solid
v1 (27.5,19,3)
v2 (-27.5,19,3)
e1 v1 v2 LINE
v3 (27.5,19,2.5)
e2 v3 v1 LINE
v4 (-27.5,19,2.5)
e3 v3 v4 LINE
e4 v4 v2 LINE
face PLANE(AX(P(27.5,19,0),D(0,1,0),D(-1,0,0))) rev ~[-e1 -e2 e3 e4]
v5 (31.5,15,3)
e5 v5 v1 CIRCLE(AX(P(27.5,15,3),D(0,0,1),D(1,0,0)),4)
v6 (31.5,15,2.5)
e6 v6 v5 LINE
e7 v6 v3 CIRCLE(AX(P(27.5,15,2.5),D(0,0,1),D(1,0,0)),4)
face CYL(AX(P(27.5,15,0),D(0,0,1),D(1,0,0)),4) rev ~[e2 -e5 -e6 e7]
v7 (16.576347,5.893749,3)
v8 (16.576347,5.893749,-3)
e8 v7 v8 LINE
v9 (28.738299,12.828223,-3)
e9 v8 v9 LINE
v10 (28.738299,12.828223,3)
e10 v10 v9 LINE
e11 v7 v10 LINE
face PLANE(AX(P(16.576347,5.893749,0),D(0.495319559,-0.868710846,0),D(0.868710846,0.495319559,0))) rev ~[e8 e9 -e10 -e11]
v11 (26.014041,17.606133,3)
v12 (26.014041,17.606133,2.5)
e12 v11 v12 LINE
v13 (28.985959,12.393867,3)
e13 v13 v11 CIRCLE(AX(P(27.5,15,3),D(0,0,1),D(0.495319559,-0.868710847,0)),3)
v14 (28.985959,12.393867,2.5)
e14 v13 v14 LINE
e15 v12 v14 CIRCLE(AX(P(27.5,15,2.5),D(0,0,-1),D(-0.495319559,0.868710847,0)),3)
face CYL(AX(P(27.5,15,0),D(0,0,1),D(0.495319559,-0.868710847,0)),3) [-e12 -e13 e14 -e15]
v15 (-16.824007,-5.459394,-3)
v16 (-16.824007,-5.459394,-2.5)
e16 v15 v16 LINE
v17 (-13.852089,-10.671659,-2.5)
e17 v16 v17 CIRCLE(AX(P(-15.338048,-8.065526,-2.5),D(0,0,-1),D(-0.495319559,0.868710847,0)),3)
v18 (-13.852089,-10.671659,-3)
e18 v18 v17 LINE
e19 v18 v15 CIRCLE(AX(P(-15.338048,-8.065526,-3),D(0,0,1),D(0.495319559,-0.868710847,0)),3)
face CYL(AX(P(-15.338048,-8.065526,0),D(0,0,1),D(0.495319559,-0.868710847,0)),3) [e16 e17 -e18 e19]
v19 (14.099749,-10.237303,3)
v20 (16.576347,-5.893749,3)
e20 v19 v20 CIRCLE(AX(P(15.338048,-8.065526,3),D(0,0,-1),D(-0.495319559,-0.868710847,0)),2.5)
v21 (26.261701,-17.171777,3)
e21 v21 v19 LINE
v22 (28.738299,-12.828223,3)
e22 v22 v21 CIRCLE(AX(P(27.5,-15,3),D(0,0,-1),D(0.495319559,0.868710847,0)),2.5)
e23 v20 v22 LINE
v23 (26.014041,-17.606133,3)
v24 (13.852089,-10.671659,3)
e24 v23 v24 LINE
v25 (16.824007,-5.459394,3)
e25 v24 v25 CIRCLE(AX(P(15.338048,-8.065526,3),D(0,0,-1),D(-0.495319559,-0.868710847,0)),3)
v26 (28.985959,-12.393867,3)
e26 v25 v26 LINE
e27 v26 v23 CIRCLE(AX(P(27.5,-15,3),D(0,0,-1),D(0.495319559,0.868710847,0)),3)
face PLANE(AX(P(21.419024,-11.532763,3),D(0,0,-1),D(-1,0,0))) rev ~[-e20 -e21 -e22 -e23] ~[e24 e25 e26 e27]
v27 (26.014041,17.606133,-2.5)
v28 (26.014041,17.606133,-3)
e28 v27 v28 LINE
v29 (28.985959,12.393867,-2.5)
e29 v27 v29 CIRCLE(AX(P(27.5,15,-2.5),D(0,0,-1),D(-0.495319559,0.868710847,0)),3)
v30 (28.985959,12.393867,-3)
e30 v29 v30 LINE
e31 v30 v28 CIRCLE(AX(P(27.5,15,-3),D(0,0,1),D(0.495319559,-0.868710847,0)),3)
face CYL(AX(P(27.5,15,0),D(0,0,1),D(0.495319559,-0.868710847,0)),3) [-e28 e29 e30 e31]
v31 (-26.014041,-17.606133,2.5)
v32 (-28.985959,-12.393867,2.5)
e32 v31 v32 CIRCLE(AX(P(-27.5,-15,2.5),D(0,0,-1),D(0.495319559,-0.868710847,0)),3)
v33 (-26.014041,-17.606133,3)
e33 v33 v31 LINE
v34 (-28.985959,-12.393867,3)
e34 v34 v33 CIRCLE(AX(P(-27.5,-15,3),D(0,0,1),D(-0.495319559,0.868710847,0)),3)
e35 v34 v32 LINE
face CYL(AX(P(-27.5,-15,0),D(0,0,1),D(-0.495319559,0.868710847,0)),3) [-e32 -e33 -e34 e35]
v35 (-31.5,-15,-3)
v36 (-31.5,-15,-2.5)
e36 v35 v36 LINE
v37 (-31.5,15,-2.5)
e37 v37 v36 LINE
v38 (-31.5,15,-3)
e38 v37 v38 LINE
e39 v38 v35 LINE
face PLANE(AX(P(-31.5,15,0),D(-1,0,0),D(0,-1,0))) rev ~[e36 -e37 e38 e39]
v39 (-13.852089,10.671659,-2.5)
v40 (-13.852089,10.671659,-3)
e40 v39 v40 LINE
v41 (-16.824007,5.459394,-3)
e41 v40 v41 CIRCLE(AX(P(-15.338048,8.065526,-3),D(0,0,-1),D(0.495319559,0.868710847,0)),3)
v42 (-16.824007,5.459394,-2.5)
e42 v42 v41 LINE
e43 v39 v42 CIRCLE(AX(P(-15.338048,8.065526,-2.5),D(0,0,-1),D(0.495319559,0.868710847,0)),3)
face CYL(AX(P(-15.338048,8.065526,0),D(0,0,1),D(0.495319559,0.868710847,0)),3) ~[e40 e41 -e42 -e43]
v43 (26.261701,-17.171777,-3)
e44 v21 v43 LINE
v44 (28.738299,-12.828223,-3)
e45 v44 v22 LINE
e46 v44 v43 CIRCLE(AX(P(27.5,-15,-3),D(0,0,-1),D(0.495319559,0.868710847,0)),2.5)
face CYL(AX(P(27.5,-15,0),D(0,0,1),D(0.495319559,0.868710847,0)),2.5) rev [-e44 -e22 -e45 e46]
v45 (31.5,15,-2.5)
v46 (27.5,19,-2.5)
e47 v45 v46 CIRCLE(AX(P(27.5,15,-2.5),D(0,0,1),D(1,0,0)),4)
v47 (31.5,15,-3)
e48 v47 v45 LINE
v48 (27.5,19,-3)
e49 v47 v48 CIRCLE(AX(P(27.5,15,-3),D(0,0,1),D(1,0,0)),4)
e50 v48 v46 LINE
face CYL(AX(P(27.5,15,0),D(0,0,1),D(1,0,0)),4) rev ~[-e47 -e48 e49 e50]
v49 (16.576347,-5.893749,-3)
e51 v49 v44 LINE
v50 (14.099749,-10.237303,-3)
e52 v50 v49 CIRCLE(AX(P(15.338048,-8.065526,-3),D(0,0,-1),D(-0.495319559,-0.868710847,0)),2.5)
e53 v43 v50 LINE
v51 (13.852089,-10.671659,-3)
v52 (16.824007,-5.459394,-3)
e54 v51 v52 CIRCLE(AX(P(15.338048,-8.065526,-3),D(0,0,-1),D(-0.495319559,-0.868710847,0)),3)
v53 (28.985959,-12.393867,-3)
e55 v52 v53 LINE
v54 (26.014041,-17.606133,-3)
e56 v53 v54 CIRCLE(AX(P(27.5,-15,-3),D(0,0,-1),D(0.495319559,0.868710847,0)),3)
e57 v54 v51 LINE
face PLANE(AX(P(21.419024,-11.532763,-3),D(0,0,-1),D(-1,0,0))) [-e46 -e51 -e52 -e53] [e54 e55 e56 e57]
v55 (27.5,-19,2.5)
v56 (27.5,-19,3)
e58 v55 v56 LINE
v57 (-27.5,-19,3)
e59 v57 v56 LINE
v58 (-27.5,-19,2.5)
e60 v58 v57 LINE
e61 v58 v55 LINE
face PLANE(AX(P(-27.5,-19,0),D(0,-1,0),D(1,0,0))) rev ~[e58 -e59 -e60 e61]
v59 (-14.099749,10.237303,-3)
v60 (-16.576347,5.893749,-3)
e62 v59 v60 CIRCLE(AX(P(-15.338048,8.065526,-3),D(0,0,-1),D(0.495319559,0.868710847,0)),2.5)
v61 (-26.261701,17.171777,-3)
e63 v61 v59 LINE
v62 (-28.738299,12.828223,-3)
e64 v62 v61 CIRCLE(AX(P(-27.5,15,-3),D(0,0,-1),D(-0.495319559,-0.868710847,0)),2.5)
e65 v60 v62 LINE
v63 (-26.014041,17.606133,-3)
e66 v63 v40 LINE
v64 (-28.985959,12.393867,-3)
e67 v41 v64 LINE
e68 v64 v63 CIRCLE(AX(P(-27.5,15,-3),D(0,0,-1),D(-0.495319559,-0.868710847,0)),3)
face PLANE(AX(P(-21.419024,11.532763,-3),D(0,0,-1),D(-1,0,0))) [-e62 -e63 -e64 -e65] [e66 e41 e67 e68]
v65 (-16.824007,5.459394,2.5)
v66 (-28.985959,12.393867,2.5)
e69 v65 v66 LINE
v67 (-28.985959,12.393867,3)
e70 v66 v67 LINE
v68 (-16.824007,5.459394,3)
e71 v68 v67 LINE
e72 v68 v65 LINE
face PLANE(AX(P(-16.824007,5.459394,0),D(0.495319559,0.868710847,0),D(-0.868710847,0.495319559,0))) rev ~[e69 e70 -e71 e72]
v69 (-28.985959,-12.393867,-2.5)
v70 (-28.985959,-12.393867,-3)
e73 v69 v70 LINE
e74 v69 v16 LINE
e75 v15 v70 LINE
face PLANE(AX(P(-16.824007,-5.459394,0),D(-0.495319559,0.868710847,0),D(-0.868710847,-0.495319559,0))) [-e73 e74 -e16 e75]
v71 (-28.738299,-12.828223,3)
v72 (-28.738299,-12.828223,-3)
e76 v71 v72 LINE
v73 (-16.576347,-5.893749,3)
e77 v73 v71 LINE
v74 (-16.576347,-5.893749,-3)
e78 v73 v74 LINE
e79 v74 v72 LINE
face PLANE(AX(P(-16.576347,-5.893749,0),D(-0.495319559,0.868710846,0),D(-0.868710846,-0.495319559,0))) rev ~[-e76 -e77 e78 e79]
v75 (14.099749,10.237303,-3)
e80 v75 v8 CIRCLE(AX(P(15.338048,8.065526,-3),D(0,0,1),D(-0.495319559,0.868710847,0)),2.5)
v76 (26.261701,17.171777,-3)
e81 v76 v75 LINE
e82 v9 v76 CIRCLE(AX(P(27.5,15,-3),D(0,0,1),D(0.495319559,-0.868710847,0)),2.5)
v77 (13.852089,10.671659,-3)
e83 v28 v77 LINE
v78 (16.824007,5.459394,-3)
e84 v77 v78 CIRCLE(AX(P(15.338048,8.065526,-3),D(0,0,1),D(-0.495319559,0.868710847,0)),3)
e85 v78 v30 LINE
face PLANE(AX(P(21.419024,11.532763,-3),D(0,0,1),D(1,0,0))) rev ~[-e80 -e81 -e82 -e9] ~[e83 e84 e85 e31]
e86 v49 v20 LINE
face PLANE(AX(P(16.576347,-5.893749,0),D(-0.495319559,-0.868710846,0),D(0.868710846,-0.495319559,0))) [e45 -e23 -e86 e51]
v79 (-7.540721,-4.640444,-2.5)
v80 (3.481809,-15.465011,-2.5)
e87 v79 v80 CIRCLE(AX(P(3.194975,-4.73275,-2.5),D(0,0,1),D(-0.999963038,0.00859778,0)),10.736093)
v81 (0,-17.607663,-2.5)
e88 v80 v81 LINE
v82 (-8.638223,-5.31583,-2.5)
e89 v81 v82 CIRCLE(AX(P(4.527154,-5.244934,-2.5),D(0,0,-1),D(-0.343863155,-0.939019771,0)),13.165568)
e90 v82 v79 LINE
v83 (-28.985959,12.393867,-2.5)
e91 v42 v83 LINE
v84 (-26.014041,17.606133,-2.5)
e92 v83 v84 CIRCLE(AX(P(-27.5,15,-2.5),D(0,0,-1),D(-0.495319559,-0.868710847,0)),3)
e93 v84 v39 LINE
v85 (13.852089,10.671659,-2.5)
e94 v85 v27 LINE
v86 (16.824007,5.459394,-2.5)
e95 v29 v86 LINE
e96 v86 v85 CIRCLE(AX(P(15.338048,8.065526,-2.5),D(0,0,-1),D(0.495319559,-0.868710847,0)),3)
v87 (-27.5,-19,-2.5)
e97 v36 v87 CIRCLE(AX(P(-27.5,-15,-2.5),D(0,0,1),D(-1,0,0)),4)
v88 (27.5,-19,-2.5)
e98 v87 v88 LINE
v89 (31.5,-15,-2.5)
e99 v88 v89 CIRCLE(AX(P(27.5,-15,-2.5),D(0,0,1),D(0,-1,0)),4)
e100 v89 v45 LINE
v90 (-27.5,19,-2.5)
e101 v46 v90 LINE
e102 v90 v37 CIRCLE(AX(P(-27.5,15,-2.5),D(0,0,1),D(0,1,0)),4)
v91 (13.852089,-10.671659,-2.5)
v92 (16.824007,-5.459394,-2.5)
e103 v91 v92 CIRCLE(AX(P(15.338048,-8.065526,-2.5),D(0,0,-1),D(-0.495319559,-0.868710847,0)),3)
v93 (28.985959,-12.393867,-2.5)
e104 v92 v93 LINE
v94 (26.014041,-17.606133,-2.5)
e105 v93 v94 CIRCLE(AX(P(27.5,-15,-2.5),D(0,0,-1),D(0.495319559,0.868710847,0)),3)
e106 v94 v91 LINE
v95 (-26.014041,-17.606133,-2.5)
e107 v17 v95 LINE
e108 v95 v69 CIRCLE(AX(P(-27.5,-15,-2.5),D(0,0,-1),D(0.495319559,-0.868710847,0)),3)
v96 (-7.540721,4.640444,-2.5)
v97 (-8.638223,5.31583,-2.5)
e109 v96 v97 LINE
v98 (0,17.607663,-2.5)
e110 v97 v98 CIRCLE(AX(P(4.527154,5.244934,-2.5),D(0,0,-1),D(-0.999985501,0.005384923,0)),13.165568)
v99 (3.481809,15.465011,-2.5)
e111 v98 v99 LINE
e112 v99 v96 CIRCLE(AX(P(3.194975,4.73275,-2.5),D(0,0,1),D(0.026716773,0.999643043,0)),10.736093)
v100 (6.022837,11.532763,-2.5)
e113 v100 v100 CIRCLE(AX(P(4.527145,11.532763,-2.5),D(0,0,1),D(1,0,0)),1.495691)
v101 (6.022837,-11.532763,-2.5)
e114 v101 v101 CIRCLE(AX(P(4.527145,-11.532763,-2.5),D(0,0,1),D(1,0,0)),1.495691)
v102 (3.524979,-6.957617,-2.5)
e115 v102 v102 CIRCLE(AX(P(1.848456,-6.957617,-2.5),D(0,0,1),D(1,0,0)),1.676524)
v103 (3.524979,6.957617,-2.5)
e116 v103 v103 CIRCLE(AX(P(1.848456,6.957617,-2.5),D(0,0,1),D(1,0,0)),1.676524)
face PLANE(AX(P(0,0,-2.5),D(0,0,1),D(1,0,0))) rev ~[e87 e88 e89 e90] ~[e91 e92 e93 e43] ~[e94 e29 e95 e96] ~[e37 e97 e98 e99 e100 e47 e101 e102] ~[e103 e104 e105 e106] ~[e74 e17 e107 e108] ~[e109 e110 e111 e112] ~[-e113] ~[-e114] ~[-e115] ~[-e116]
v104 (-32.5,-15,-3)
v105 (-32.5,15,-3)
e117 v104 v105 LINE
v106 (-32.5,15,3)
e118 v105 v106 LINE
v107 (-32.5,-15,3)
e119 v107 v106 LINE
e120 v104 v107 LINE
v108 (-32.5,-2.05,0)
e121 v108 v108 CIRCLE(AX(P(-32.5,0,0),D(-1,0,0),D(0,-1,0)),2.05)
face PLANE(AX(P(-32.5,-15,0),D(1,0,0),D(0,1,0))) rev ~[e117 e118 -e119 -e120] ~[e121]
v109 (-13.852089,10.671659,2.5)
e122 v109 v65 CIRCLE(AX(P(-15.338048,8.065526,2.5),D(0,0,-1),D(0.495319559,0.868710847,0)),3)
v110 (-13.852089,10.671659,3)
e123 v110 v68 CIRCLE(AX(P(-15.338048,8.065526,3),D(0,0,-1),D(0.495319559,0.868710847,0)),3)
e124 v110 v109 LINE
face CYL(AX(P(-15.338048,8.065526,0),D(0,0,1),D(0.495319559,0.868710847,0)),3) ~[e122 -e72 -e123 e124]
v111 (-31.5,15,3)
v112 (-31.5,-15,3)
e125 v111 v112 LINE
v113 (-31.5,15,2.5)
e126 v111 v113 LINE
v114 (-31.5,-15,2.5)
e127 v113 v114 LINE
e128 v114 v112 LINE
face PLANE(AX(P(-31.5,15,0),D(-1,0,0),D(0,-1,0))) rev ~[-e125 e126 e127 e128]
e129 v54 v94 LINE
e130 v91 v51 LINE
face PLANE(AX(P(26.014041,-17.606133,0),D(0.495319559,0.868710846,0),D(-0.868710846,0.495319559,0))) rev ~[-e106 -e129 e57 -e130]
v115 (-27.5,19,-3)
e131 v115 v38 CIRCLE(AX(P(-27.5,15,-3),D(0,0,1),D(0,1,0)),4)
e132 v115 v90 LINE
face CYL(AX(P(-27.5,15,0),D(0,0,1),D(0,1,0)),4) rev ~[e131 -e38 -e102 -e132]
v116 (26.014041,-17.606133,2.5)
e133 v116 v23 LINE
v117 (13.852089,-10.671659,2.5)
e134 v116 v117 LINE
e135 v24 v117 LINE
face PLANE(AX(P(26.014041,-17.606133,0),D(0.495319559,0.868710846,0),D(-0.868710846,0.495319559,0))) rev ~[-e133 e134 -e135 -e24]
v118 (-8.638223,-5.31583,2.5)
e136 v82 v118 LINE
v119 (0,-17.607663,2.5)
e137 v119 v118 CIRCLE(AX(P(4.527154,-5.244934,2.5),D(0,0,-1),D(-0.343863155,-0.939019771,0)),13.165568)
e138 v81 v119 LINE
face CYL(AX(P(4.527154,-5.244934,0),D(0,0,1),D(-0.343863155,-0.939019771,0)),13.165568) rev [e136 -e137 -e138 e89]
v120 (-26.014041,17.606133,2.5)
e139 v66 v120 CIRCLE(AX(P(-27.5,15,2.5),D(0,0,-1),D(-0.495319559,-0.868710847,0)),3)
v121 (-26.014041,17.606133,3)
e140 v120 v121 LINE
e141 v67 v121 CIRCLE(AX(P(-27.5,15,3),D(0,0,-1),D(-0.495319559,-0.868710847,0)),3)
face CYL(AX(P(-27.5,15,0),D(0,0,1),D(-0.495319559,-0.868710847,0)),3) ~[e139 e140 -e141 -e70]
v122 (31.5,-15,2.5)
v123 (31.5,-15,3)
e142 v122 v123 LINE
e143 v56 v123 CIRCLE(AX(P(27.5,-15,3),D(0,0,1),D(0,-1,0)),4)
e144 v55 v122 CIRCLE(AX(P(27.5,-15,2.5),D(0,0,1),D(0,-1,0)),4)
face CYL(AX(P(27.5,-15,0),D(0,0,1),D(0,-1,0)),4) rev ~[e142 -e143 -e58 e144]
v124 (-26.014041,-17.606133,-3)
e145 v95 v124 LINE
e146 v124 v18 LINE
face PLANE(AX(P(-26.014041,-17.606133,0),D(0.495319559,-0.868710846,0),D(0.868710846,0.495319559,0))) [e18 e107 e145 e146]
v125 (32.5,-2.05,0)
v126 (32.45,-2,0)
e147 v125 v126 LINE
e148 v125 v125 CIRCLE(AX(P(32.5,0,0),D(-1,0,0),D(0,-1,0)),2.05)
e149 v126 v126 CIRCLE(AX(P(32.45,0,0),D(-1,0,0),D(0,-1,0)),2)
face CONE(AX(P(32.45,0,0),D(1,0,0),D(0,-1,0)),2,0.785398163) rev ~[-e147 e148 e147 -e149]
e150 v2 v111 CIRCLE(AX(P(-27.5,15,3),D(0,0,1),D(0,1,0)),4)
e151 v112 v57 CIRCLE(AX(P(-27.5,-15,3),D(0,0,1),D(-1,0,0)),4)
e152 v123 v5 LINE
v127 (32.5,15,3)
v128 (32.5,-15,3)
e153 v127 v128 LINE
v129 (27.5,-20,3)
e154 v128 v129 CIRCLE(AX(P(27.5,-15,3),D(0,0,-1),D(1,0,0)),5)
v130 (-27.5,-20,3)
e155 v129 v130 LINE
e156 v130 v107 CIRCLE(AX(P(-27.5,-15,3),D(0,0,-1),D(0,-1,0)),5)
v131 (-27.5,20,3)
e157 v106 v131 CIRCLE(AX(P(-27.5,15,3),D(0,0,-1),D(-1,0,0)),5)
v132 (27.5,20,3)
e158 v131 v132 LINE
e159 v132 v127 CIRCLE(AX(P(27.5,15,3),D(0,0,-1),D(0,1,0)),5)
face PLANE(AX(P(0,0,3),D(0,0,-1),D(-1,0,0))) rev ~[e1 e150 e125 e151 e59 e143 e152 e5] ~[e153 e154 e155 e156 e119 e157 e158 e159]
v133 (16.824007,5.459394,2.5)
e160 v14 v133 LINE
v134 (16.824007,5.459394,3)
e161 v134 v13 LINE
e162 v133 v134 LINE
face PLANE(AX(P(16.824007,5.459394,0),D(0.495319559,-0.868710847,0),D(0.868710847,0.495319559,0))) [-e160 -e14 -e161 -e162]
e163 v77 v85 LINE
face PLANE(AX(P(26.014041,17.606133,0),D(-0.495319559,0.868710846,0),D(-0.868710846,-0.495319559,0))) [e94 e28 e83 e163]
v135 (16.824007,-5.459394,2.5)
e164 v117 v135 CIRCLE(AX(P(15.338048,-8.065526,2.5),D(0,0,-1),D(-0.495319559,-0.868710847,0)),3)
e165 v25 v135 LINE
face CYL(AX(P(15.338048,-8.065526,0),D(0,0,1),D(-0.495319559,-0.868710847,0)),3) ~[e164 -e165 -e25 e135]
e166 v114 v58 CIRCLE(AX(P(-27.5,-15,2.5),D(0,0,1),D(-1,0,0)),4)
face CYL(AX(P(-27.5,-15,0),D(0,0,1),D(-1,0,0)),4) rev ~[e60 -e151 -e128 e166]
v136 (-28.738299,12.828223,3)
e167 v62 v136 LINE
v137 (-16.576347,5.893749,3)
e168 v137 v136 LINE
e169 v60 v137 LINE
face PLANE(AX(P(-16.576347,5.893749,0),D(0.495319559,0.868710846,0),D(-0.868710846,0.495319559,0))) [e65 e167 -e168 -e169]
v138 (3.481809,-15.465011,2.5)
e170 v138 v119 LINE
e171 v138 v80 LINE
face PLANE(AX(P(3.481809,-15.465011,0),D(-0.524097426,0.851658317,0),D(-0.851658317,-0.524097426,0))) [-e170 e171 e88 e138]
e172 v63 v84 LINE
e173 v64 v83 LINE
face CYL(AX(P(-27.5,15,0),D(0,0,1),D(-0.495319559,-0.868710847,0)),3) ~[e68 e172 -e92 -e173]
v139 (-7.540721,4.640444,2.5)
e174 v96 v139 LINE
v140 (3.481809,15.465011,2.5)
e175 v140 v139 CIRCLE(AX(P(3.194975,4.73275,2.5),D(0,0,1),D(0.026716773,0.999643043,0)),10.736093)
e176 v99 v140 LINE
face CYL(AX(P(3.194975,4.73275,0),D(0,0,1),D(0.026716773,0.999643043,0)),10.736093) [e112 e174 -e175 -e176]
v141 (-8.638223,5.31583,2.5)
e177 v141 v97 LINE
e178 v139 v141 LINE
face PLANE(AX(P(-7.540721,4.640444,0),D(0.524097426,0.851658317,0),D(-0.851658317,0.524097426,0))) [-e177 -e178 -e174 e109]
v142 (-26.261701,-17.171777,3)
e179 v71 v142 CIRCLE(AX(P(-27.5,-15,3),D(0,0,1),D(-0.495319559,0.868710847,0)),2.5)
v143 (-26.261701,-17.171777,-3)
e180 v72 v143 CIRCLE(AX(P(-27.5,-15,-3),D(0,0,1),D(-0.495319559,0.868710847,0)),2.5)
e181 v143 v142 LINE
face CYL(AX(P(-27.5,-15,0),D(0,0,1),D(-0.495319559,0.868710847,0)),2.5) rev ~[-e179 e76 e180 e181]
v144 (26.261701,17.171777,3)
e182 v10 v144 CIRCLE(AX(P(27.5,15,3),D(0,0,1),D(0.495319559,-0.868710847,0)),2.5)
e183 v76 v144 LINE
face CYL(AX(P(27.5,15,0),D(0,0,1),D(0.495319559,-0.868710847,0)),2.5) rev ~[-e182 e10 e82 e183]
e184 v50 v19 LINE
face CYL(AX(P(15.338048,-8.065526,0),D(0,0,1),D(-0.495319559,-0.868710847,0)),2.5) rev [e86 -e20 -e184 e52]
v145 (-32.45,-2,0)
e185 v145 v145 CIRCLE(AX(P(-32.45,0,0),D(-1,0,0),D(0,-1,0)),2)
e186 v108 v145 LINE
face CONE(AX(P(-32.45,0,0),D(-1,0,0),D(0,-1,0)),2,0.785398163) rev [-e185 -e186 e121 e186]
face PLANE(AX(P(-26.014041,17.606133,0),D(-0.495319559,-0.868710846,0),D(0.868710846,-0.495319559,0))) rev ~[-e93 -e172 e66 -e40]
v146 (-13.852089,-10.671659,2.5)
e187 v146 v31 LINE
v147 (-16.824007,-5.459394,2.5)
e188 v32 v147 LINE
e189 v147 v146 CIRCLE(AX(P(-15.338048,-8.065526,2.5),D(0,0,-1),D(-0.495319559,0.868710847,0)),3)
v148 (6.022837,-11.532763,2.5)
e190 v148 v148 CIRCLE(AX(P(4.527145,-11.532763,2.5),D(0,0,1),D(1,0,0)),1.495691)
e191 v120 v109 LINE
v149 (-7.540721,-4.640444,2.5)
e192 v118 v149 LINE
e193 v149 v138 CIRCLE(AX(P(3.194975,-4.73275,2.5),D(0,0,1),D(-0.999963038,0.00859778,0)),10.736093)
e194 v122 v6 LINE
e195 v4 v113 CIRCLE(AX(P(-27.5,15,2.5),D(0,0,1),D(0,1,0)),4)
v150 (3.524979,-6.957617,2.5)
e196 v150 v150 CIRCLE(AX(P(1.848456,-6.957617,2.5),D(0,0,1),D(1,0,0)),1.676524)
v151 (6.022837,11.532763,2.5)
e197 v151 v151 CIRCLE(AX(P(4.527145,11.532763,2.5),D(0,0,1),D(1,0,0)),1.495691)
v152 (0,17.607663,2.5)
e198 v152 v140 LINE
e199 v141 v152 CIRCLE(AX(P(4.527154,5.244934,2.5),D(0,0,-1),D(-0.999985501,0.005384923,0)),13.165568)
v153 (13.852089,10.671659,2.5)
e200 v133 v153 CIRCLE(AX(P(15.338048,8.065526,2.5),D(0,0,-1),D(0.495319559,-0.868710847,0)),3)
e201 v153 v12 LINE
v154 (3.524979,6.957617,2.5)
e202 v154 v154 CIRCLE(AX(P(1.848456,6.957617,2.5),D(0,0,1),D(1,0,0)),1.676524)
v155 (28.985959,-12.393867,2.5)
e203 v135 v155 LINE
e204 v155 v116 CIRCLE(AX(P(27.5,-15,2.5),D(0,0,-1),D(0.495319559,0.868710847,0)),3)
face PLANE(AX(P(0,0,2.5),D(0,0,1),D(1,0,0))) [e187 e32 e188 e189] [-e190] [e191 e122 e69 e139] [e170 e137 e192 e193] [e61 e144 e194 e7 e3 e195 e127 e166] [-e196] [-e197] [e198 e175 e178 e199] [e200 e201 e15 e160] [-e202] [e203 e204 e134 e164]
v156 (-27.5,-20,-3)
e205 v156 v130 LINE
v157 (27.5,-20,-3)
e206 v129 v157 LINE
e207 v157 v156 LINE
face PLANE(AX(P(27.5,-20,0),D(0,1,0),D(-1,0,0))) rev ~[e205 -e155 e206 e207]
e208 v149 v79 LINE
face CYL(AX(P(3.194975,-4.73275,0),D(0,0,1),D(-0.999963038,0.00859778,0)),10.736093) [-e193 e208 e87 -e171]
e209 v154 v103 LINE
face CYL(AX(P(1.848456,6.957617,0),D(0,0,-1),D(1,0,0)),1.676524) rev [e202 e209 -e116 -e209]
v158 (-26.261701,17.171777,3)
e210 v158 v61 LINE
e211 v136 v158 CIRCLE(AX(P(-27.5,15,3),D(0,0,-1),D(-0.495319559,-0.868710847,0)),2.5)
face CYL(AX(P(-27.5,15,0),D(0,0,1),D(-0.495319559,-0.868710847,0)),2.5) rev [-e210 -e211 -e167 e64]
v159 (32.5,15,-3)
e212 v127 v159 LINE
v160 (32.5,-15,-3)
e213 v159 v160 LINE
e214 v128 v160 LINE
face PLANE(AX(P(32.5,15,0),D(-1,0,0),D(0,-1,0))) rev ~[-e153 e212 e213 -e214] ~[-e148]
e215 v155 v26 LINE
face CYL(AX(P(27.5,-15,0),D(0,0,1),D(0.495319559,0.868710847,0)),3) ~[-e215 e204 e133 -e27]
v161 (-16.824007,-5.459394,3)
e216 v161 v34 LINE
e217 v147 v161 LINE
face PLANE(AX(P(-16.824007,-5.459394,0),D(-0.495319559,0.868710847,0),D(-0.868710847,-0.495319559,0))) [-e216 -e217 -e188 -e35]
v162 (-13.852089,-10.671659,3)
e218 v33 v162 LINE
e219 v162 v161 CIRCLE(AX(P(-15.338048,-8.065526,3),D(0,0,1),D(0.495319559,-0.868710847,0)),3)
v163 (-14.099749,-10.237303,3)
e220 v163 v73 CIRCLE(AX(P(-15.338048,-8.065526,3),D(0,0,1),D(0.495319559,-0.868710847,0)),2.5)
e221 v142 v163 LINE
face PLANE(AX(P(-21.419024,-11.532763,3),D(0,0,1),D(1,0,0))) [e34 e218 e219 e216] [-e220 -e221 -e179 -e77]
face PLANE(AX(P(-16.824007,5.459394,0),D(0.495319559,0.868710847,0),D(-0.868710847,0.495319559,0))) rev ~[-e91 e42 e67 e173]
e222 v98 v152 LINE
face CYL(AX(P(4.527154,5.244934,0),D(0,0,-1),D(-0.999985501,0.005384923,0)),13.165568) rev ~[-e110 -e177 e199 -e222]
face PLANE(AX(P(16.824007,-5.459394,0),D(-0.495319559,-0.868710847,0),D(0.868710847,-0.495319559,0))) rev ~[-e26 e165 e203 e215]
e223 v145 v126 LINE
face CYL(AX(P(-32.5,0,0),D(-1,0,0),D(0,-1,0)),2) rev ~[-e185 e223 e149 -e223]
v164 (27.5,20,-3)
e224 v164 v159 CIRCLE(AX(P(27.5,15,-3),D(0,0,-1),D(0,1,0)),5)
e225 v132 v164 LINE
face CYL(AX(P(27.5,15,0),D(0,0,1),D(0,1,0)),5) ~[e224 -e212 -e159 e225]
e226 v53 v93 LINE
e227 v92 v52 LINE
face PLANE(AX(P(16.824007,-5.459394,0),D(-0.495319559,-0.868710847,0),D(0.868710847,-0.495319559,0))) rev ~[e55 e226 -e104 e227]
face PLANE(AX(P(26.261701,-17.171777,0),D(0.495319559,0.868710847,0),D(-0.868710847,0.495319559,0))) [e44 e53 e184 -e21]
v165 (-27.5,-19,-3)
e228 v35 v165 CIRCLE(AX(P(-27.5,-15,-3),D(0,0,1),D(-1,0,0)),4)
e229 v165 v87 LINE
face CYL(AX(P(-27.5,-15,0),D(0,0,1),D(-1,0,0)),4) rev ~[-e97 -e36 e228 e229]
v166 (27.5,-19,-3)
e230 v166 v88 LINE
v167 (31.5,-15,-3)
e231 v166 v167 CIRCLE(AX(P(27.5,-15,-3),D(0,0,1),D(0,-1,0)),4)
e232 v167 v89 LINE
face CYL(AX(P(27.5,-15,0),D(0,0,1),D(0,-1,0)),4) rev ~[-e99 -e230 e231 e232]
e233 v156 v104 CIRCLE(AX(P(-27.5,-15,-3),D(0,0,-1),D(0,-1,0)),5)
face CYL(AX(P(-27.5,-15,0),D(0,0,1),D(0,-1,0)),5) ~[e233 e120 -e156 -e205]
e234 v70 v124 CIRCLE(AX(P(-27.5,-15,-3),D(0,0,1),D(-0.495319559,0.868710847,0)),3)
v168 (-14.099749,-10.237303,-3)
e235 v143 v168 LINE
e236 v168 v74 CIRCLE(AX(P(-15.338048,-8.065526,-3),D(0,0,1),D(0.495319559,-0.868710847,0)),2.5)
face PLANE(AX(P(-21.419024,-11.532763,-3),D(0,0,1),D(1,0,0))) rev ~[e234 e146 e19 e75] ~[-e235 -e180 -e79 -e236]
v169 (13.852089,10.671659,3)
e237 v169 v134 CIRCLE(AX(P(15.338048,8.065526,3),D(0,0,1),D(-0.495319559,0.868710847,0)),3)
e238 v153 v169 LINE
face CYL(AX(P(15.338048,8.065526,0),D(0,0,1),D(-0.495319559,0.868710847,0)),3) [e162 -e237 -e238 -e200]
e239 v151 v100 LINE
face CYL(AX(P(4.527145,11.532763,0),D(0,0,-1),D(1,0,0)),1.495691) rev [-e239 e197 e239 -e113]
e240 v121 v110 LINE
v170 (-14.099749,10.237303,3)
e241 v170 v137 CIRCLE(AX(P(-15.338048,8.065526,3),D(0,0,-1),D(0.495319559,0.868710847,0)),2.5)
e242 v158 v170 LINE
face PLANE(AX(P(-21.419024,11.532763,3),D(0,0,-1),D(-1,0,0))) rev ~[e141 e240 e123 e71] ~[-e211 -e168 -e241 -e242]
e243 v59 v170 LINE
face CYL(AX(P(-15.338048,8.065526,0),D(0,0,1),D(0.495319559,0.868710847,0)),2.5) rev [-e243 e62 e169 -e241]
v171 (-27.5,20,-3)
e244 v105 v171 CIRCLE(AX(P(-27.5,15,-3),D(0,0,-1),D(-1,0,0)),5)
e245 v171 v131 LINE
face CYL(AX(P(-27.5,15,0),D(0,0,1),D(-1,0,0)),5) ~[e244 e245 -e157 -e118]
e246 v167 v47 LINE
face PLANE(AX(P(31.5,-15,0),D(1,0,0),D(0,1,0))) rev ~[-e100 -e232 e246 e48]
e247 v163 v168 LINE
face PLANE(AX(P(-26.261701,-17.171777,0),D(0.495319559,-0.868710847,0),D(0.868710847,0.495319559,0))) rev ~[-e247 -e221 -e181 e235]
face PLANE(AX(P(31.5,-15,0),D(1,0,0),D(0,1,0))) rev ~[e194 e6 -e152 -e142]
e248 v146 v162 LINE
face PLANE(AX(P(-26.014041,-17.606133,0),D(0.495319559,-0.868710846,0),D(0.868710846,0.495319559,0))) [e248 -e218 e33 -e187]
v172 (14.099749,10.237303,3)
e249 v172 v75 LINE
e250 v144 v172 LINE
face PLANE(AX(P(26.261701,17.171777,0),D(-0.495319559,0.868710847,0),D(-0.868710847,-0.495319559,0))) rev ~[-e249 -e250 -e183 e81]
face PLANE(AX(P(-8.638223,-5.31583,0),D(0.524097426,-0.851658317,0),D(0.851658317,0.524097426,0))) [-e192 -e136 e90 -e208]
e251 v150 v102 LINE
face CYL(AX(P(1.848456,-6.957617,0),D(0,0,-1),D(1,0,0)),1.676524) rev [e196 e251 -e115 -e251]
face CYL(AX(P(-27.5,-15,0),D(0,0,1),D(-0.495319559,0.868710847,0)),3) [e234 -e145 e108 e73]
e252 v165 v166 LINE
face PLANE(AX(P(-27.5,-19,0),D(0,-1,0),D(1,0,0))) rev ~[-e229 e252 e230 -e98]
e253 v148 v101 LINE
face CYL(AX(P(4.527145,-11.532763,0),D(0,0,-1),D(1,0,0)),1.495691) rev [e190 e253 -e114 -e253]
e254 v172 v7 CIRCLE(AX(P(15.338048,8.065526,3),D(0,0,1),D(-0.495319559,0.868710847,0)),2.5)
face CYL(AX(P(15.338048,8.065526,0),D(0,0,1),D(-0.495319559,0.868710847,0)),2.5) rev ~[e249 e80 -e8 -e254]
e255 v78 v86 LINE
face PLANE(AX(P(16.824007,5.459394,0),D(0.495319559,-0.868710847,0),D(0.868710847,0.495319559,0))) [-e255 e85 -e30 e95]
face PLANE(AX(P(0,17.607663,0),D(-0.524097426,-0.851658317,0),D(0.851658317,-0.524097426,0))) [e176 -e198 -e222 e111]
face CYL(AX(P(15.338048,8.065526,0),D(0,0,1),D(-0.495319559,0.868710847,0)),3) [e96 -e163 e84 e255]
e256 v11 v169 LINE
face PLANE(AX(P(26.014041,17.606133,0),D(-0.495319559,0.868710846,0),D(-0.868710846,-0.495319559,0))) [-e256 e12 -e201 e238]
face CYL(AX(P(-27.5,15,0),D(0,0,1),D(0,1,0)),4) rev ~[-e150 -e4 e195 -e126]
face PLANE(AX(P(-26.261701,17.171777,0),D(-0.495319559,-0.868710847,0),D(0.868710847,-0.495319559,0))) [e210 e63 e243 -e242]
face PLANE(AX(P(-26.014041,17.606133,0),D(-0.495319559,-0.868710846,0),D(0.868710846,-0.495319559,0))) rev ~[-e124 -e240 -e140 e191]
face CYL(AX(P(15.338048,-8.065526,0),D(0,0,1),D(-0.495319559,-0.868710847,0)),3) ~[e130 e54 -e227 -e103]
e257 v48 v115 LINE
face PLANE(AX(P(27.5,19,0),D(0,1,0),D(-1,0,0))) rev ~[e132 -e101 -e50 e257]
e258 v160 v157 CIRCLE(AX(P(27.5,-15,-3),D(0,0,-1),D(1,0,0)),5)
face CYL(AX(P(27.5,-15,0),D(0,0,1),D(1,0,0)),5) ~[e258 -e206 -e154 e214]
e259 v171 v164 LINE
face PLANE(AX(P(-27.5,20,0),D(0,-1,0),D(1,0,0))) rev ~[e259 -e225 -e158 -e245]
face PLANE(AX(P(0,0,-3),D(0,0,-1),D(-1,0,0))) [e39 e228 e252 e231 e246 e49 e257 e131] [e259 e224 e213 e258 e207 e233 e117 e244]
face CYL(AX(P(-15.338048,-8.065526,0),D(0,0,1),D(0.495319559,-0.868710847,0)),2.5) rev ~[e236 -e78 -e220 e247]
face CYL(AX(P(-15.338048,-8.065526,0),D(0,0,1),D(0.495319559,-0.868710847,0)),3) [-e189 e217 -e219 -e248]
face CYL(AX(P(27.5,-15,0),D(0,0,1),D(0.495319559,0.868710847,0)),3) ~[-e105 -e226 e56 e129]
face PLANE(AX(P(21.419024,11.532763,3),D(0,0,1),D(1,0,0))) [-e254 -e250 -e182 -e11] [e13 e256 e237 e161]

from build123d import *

# Parameters (mm, degrees)
BOSS_EXTRUDE2_DEPTH   = 3
BOSS_EXTRUDE2_2_DEPTH = 3
BOSS_EXTRUDE2_3_DEPTH = 3
BOSS_EXTRUDE2_4_DEPTH = 3
BOSS_EXTRUDE2_5_DEPTH = 3
SKETCH1_3_R           = 1.495691171
SKETCH1_3_R_2         = 1.676523608
BOSS_EXTRUDE3_DEPTH   = 2.5
SKETCH4_R             = 2
CUT_EXTRUDE5_DEPTH    = 69.0734897
CHAMFER1_SIZE         = 0.05


with BuildPart() as part:
    # Sketch1 → Boss-Extrude2 (new, symmetric)
    with BuildSketch(Plane.XY):
        with BuildLine():
            Line((27.5, 20), (-27.5, 20))
            ThreePointArc((-27.5, 20), (-31.035533906, 18.535533906), (-32.5, 15))
            Line((-32.5, 15), (-32.5, -15))
            ThreePointArc((-32.5, -15), (-31.035533906, -18.535533906), (-27.5, -20))
            Line((-27.5, -20), (27.5, -20))
            ThreePointArc((27.5, -20), (31.035533906, -18.535533906), (32.5, -15))
            Line((32.5, -15), (32.5, 15))
            ThreePointArc((32.5, 15), (31.035533906, 18.535533906), (27.5, 20))
        make_face()
        with BuildLine():
            Line((-31.5, -15), (-31.5, 15))
            ThreePointArc((-31.5, 15), (-30.328427125, 17.828427125), (-27.5, 19))
            Line((-27.5, 19), (27.5, 19))
            ThreePointArc((27.5, 19), (30.328427125, 17.828427125), (31.5, 15))
            Line((31.5, 15), (31.5, -15))
            ThreePointArc((31.5, -15), (30.328427125, -17.828427125), (27.5, -19))
            Line((27.5, -19), (-27.5, -19))
            ThreePointArc((-27.5, -19), (-30.328427125, -17.828427125), (-31.5, -15))
        make_face(mode=Mode.SUBTRACT)
    extrude(amount=BOSS_EXTRUDE2_DEPTH, both=True)



with BuildPart() as body_2:
    # Sketch1 → Boss-Extrude2 2 (new, symmetric)
    with BuildSketch(Plane.XY):
        with BuildLine():
            Line((-13.852089473, 10.671658719), (-26.014041324, 17.60613254))
            ThreePointArc((-26.014041324, 17.60613254), (-30.10613254, 16.485958676), (-28.985958676, 12.39386746))
            Line((-28.985958676, 12.39386746), (-16.824006824, 5.45939364))
            ThreePointArc((-16.824006824, 5.45939364), (-12.731915609, 6.579567504), (-13.852089473, 10.671658719))
        make_face()
        with BuildLine():
            ThreePointArc((-28.738298896, 12.828222884), (-29.671777116, 16.238298896), (-26.261701104, 17.171777116))
            Line((-26.261701104, 17.171777116), (-14.099749252, 10.237303296))
            ThreePointArc((-14.099749252, 10.237303296), (-13.166271032, 6.827227283), (-16.576347045, 5.893749063))
            Line((-16.576347045, 5.893749063), (-28.738298896, 12.828222884))
        make_face(mode=Mode.SUBTRACT)
    extrude(amount=BOSS_EXTRUDE2_2_DEPTH, both=True)


with BuildPart() as body_3:
    # Sketch1 → Boss-Extrude2 3 (new, symmetric)
    with BuildSketch(Plane.XY):
        with BuildLine():
            ThreePointArc((28.985958676, 12.39386746), (30.10613254, 16.485958676), (26.014041324, 17.60613254))
            Line((26.014041324, 17.60613254), (13.852089473, 10.671658719))
            ThreePointArc((13.852089473, 10.671658719), (12.731915609, 6.579567504), (16.824006824, 5.45939364))
            Line((16.824006824, 5.45939364), (28.985958676, 12.39386746))
        make_face()
        with BuildLine():
            Line((14.099749252, 10.237303296), (26.261701104, 17.171777116))
            ThreePointArc((26.261701104, 17.171777116), (29.671777116, 16.238298896), (28.738298896, 12.828222884))
            Line((28.738298896, 12.828222884), (16.576347045, 5.893749063))
            ThreePointArc((16.576347045, 5.893749063), (13.166271032, 6.827227283), (14.099749252, 10.237303296))
        make_face(mode=Mode.SUBTRACT)
    extrude(amount=BOSS_EXTRUDE2_3_DEPTH, both=True)


with BuildPart() as body_4:
    # Sketch1 → Boss-Extrude2 4 (new, symmetric)
    with BuildSketch(Plane.XY):
        with BuildLine():
            Line((13.852089473, -10.671658719), (26.014041324, -17.60613254))
            ThreePointArc((26.014041324, -17.60613254), (30.10613254, -16.485958676), (28.985958676, -12.39386746))
            Line((28.985958676, -12.39386746), (16.824006824, -5.45939364))
            ThreePointArc((16.824006824, -5.45939364), (12.731915609, -6.579567504), (13.852089473, -10.671658719))
        make_face()
        with BuildLine():
            ThreePointArc((28.738298896, -12.828222884), (29.671777116, -16.238298896), (26.261701104, -17.171777116))
            Line((26.261701104, -17.171777116), (14.099749252, -10.237303296))
            ThreePointArc((14.099749252, -10.237303296), (13.166271032, -6.827227283), (16.576347045, -5.893749063))
            Line((16.576347045, -5.893749063), (28.738298896, -12.828222884))
        make_face(mode=Mode.SUBTRACT)
    extrude(amount=BOSS_EXTRUDE2_4_DEPTH, both=True)


with BuildPart() as body_5:
    # Sketch1 → Boss-Extrude2 5 (new, symmetric)
    with BuildSketch(Plane.XY):
        with BuildLine():
            ThreePointArc((-28.985958676, -12.39386746), (-30.10613254, -16.485958676), (-26.014041324, -17.60613254))
            Line((-26.014041324, -17.60613254), (-13.852089473, -10.671658719))
            ThreePointArc((-13.852089473, -10.671658719), (-12.731915609, -6.579567504), (-16.824006824, -5.45939364))
            Line((-16.824006824, -5.45939364), (-28.985958676, -12.39386746))
        make_face()
        with BuildLine():
            Line((-14.099749252, -10.237303296), (-26.261701104, -17.171777116))
            ThreePointArc((-26.261701104, -17.171777116), (-29.671777116, -16.238298896), (-28.738298896, -12.828222884))
            Line((-28.738298896, -12.828222884), (-16.576347045, -5.893749063))
            ThreePointArc((-16.576347045, -5.893749063), (-13.166271032, -6.827227283), (-14.099749252, -10.237303296))
        make_face(mode=Mode.SUBTRACT)
    extrude(amount=BOSS_EXTRUDE2_5_DEPTH, both=True)


with BuildPart() as part_1:
    add(part.part)

    add(body_2.part)  # Boss-Extrude3 merges body 2

    add(body_3.part)  # Boss-Extrude3 merges body 3

    add(body_4.part)  # Boss-Extrude3 merges body 4

    add(body_5.part)  # Boss-Extrude3 merges body 5
    # Sketch1<3> → Boss-Extrude3 (add, symmetric)
    with BuildSketch(Plane.XY):
        with BuildLine():
            ThreePointArc((-27.5, 19), (-30.328427125, 17.828427125), (-31.5, 15))
            Line((-31.5, 15), (-31.5, -15))
            ThreePointArc((-31.5, -15), (-30.328427125, -17.828427125), (-27.5, -19))
            Line((-27.5, -19), (27.5, -19))
            ThreePointArc((27.5, -19), (30.328427125, -17.828427125), (31.5, -15))
            Line((31.5, -15), (31.5, 15))
            ThreePointArc((31.5, 15), (30.328427125, 17.828427125), (27.5, 19))
            Line((27.5, 19), (-27.5, 19))
        make_face()
        with BuildLine():
            Line((-13.852089473, -10.671658719), (-26.014041324, -17.60613254))
            ThreePointArc((-26.014041324, -17.60613254), (-30.10613254, -16.485958676), (-28.985958676, -12.39386746))
            Line((-28.985958676, -12.39386746), (-16.824006824, -5.45939364))
            ThreePointArc((-16.824006824, -5.45939364), (-12.731915609, -6.579567504), (-13.852089473, -10.671658719))
        make_face(mode=Mode.SUBTRACT)
        with BuildLine():
            ThreePointArc((0, -17.607662989), (-6.244508299, -12.814840409), (-8.638223432, -5.315829804))
            Line((-8.638223432, -5.315829804), (-7.540721224, -4.64044383))
            ThreePointArc((-7.540721224, -4.64044383), (-4.327491025, -12.392789568), (3.48180896, -15.465011321))
            Line((3.48180896, -15.465011321), (0, -17.607662989))
        make_face(mode=Mode.SUBTRACT)
        with Locations((4.527145443, -11.53276309)):
            Circle(SKETCH1_3_R, mode=Mode.SUBTRACT)
        with BuildLine():
            ThreePointArc((28.985958676, -12.39386746), (30.10613254, -16.485958676), (26.014041324, -17.60613254))
            Line((26.014041324, -17.60613254), (13.852089473, -10.671658719))
            ThreePointArc((13.852089473, -10.671658719), (12.731915609, -6.579567504), (16.824006824, -5.45939364))
            Line((16.824006824, -5.45939364), (28.985958676, -12.39386746))
        make_face(mode=Mode.SUBTRACT)
        with Locations((1.848455798, -6.957616723)):
            Circle(SKETCH1_3_R_2, mode=Mode.SUBTRACT)
        with BuildLine():
            ThreePointArc((-28.985958676, 12.39386746), (-30.10613254, 16.485958676), (-26.014041324, 17.60613254))
            Line((-26.014041324, 17.60613254), (-13.852089473, 10.671658719))
            ThreePointArc((-13.852089473, 10.671658719), (-12.731915609, 6.579567504), (-16.824006824, 5.45939364))
            Line((-16.824006824, 5.45939364), (-28.985958676, 12.39386746))
        make_face(mode=Mode.SUBTRACT)
        with BuildLine():
            Line((-7.540721224, 4.64044383), (-8.638223432, 5.315829804))
            ThreePointArc((-8.638223432, 5.315829804), (-6.244508299, 12.814840409), (0, 17.607662989))
            Line((0, 17.607662989), (3.48180896, 15.465011321))
            ThreePointArc((3.48180896, 15.465011321), (-4.327491025, 12.392789568), (-7.540721224, 4.64044383))
        make_face(mode=Mode.SUBTRACT)
        with Locations((1.848455798, 6.957616723)):
            Circle(SKETCH1_3_R_2, mode=Mode.SUBTRACT)
        with Locations((4.527145443, 11.53276309)):
            Circle(SKETCH1_3_R, mode=Mode.SUBTRACT)
        with BuildLine():
            Line((13.852089473, 10.671658719), (26.014041324, 17.60613254))
            ThreePointArc((26.014041324, 17.60613254), (30.10613254, 16.485958676), (28.985958676, 12.39386746))
            Line((28.985958676, 12.39386746), (16.824006824, 5.45939364))
            ThreePointArc((16.824006824, 5.45939364), (12.731915609, 6.579567504), (13.852089473, 10.671658719))
        make_face(mode=Mode.SUBTRACT)
    extrude(amount=BOSS_EXTRUDE3_DEPTH, both=True)

    # Sketch4 → Cut-Extrude5 (cut, through all)
    with BuildSketch(Plane.ZY.offset(32.5)):
        Circle(SKETCH4_R)
    extrude(amount=-CUT_EXTRUDE5_DEPTH, mode=Mode.SUBTRACT)

    # Chamfer1
    chamfer1_edges = [part_1.edges().sort_by_distance(p)[0] for p in [
        (32.5, 0, -2),
        (-32.5, 0, -2),
    ]]
    chamfer(chamfer1_edges, length=CHAMFER1_SIZE)


solid = part_1.part
